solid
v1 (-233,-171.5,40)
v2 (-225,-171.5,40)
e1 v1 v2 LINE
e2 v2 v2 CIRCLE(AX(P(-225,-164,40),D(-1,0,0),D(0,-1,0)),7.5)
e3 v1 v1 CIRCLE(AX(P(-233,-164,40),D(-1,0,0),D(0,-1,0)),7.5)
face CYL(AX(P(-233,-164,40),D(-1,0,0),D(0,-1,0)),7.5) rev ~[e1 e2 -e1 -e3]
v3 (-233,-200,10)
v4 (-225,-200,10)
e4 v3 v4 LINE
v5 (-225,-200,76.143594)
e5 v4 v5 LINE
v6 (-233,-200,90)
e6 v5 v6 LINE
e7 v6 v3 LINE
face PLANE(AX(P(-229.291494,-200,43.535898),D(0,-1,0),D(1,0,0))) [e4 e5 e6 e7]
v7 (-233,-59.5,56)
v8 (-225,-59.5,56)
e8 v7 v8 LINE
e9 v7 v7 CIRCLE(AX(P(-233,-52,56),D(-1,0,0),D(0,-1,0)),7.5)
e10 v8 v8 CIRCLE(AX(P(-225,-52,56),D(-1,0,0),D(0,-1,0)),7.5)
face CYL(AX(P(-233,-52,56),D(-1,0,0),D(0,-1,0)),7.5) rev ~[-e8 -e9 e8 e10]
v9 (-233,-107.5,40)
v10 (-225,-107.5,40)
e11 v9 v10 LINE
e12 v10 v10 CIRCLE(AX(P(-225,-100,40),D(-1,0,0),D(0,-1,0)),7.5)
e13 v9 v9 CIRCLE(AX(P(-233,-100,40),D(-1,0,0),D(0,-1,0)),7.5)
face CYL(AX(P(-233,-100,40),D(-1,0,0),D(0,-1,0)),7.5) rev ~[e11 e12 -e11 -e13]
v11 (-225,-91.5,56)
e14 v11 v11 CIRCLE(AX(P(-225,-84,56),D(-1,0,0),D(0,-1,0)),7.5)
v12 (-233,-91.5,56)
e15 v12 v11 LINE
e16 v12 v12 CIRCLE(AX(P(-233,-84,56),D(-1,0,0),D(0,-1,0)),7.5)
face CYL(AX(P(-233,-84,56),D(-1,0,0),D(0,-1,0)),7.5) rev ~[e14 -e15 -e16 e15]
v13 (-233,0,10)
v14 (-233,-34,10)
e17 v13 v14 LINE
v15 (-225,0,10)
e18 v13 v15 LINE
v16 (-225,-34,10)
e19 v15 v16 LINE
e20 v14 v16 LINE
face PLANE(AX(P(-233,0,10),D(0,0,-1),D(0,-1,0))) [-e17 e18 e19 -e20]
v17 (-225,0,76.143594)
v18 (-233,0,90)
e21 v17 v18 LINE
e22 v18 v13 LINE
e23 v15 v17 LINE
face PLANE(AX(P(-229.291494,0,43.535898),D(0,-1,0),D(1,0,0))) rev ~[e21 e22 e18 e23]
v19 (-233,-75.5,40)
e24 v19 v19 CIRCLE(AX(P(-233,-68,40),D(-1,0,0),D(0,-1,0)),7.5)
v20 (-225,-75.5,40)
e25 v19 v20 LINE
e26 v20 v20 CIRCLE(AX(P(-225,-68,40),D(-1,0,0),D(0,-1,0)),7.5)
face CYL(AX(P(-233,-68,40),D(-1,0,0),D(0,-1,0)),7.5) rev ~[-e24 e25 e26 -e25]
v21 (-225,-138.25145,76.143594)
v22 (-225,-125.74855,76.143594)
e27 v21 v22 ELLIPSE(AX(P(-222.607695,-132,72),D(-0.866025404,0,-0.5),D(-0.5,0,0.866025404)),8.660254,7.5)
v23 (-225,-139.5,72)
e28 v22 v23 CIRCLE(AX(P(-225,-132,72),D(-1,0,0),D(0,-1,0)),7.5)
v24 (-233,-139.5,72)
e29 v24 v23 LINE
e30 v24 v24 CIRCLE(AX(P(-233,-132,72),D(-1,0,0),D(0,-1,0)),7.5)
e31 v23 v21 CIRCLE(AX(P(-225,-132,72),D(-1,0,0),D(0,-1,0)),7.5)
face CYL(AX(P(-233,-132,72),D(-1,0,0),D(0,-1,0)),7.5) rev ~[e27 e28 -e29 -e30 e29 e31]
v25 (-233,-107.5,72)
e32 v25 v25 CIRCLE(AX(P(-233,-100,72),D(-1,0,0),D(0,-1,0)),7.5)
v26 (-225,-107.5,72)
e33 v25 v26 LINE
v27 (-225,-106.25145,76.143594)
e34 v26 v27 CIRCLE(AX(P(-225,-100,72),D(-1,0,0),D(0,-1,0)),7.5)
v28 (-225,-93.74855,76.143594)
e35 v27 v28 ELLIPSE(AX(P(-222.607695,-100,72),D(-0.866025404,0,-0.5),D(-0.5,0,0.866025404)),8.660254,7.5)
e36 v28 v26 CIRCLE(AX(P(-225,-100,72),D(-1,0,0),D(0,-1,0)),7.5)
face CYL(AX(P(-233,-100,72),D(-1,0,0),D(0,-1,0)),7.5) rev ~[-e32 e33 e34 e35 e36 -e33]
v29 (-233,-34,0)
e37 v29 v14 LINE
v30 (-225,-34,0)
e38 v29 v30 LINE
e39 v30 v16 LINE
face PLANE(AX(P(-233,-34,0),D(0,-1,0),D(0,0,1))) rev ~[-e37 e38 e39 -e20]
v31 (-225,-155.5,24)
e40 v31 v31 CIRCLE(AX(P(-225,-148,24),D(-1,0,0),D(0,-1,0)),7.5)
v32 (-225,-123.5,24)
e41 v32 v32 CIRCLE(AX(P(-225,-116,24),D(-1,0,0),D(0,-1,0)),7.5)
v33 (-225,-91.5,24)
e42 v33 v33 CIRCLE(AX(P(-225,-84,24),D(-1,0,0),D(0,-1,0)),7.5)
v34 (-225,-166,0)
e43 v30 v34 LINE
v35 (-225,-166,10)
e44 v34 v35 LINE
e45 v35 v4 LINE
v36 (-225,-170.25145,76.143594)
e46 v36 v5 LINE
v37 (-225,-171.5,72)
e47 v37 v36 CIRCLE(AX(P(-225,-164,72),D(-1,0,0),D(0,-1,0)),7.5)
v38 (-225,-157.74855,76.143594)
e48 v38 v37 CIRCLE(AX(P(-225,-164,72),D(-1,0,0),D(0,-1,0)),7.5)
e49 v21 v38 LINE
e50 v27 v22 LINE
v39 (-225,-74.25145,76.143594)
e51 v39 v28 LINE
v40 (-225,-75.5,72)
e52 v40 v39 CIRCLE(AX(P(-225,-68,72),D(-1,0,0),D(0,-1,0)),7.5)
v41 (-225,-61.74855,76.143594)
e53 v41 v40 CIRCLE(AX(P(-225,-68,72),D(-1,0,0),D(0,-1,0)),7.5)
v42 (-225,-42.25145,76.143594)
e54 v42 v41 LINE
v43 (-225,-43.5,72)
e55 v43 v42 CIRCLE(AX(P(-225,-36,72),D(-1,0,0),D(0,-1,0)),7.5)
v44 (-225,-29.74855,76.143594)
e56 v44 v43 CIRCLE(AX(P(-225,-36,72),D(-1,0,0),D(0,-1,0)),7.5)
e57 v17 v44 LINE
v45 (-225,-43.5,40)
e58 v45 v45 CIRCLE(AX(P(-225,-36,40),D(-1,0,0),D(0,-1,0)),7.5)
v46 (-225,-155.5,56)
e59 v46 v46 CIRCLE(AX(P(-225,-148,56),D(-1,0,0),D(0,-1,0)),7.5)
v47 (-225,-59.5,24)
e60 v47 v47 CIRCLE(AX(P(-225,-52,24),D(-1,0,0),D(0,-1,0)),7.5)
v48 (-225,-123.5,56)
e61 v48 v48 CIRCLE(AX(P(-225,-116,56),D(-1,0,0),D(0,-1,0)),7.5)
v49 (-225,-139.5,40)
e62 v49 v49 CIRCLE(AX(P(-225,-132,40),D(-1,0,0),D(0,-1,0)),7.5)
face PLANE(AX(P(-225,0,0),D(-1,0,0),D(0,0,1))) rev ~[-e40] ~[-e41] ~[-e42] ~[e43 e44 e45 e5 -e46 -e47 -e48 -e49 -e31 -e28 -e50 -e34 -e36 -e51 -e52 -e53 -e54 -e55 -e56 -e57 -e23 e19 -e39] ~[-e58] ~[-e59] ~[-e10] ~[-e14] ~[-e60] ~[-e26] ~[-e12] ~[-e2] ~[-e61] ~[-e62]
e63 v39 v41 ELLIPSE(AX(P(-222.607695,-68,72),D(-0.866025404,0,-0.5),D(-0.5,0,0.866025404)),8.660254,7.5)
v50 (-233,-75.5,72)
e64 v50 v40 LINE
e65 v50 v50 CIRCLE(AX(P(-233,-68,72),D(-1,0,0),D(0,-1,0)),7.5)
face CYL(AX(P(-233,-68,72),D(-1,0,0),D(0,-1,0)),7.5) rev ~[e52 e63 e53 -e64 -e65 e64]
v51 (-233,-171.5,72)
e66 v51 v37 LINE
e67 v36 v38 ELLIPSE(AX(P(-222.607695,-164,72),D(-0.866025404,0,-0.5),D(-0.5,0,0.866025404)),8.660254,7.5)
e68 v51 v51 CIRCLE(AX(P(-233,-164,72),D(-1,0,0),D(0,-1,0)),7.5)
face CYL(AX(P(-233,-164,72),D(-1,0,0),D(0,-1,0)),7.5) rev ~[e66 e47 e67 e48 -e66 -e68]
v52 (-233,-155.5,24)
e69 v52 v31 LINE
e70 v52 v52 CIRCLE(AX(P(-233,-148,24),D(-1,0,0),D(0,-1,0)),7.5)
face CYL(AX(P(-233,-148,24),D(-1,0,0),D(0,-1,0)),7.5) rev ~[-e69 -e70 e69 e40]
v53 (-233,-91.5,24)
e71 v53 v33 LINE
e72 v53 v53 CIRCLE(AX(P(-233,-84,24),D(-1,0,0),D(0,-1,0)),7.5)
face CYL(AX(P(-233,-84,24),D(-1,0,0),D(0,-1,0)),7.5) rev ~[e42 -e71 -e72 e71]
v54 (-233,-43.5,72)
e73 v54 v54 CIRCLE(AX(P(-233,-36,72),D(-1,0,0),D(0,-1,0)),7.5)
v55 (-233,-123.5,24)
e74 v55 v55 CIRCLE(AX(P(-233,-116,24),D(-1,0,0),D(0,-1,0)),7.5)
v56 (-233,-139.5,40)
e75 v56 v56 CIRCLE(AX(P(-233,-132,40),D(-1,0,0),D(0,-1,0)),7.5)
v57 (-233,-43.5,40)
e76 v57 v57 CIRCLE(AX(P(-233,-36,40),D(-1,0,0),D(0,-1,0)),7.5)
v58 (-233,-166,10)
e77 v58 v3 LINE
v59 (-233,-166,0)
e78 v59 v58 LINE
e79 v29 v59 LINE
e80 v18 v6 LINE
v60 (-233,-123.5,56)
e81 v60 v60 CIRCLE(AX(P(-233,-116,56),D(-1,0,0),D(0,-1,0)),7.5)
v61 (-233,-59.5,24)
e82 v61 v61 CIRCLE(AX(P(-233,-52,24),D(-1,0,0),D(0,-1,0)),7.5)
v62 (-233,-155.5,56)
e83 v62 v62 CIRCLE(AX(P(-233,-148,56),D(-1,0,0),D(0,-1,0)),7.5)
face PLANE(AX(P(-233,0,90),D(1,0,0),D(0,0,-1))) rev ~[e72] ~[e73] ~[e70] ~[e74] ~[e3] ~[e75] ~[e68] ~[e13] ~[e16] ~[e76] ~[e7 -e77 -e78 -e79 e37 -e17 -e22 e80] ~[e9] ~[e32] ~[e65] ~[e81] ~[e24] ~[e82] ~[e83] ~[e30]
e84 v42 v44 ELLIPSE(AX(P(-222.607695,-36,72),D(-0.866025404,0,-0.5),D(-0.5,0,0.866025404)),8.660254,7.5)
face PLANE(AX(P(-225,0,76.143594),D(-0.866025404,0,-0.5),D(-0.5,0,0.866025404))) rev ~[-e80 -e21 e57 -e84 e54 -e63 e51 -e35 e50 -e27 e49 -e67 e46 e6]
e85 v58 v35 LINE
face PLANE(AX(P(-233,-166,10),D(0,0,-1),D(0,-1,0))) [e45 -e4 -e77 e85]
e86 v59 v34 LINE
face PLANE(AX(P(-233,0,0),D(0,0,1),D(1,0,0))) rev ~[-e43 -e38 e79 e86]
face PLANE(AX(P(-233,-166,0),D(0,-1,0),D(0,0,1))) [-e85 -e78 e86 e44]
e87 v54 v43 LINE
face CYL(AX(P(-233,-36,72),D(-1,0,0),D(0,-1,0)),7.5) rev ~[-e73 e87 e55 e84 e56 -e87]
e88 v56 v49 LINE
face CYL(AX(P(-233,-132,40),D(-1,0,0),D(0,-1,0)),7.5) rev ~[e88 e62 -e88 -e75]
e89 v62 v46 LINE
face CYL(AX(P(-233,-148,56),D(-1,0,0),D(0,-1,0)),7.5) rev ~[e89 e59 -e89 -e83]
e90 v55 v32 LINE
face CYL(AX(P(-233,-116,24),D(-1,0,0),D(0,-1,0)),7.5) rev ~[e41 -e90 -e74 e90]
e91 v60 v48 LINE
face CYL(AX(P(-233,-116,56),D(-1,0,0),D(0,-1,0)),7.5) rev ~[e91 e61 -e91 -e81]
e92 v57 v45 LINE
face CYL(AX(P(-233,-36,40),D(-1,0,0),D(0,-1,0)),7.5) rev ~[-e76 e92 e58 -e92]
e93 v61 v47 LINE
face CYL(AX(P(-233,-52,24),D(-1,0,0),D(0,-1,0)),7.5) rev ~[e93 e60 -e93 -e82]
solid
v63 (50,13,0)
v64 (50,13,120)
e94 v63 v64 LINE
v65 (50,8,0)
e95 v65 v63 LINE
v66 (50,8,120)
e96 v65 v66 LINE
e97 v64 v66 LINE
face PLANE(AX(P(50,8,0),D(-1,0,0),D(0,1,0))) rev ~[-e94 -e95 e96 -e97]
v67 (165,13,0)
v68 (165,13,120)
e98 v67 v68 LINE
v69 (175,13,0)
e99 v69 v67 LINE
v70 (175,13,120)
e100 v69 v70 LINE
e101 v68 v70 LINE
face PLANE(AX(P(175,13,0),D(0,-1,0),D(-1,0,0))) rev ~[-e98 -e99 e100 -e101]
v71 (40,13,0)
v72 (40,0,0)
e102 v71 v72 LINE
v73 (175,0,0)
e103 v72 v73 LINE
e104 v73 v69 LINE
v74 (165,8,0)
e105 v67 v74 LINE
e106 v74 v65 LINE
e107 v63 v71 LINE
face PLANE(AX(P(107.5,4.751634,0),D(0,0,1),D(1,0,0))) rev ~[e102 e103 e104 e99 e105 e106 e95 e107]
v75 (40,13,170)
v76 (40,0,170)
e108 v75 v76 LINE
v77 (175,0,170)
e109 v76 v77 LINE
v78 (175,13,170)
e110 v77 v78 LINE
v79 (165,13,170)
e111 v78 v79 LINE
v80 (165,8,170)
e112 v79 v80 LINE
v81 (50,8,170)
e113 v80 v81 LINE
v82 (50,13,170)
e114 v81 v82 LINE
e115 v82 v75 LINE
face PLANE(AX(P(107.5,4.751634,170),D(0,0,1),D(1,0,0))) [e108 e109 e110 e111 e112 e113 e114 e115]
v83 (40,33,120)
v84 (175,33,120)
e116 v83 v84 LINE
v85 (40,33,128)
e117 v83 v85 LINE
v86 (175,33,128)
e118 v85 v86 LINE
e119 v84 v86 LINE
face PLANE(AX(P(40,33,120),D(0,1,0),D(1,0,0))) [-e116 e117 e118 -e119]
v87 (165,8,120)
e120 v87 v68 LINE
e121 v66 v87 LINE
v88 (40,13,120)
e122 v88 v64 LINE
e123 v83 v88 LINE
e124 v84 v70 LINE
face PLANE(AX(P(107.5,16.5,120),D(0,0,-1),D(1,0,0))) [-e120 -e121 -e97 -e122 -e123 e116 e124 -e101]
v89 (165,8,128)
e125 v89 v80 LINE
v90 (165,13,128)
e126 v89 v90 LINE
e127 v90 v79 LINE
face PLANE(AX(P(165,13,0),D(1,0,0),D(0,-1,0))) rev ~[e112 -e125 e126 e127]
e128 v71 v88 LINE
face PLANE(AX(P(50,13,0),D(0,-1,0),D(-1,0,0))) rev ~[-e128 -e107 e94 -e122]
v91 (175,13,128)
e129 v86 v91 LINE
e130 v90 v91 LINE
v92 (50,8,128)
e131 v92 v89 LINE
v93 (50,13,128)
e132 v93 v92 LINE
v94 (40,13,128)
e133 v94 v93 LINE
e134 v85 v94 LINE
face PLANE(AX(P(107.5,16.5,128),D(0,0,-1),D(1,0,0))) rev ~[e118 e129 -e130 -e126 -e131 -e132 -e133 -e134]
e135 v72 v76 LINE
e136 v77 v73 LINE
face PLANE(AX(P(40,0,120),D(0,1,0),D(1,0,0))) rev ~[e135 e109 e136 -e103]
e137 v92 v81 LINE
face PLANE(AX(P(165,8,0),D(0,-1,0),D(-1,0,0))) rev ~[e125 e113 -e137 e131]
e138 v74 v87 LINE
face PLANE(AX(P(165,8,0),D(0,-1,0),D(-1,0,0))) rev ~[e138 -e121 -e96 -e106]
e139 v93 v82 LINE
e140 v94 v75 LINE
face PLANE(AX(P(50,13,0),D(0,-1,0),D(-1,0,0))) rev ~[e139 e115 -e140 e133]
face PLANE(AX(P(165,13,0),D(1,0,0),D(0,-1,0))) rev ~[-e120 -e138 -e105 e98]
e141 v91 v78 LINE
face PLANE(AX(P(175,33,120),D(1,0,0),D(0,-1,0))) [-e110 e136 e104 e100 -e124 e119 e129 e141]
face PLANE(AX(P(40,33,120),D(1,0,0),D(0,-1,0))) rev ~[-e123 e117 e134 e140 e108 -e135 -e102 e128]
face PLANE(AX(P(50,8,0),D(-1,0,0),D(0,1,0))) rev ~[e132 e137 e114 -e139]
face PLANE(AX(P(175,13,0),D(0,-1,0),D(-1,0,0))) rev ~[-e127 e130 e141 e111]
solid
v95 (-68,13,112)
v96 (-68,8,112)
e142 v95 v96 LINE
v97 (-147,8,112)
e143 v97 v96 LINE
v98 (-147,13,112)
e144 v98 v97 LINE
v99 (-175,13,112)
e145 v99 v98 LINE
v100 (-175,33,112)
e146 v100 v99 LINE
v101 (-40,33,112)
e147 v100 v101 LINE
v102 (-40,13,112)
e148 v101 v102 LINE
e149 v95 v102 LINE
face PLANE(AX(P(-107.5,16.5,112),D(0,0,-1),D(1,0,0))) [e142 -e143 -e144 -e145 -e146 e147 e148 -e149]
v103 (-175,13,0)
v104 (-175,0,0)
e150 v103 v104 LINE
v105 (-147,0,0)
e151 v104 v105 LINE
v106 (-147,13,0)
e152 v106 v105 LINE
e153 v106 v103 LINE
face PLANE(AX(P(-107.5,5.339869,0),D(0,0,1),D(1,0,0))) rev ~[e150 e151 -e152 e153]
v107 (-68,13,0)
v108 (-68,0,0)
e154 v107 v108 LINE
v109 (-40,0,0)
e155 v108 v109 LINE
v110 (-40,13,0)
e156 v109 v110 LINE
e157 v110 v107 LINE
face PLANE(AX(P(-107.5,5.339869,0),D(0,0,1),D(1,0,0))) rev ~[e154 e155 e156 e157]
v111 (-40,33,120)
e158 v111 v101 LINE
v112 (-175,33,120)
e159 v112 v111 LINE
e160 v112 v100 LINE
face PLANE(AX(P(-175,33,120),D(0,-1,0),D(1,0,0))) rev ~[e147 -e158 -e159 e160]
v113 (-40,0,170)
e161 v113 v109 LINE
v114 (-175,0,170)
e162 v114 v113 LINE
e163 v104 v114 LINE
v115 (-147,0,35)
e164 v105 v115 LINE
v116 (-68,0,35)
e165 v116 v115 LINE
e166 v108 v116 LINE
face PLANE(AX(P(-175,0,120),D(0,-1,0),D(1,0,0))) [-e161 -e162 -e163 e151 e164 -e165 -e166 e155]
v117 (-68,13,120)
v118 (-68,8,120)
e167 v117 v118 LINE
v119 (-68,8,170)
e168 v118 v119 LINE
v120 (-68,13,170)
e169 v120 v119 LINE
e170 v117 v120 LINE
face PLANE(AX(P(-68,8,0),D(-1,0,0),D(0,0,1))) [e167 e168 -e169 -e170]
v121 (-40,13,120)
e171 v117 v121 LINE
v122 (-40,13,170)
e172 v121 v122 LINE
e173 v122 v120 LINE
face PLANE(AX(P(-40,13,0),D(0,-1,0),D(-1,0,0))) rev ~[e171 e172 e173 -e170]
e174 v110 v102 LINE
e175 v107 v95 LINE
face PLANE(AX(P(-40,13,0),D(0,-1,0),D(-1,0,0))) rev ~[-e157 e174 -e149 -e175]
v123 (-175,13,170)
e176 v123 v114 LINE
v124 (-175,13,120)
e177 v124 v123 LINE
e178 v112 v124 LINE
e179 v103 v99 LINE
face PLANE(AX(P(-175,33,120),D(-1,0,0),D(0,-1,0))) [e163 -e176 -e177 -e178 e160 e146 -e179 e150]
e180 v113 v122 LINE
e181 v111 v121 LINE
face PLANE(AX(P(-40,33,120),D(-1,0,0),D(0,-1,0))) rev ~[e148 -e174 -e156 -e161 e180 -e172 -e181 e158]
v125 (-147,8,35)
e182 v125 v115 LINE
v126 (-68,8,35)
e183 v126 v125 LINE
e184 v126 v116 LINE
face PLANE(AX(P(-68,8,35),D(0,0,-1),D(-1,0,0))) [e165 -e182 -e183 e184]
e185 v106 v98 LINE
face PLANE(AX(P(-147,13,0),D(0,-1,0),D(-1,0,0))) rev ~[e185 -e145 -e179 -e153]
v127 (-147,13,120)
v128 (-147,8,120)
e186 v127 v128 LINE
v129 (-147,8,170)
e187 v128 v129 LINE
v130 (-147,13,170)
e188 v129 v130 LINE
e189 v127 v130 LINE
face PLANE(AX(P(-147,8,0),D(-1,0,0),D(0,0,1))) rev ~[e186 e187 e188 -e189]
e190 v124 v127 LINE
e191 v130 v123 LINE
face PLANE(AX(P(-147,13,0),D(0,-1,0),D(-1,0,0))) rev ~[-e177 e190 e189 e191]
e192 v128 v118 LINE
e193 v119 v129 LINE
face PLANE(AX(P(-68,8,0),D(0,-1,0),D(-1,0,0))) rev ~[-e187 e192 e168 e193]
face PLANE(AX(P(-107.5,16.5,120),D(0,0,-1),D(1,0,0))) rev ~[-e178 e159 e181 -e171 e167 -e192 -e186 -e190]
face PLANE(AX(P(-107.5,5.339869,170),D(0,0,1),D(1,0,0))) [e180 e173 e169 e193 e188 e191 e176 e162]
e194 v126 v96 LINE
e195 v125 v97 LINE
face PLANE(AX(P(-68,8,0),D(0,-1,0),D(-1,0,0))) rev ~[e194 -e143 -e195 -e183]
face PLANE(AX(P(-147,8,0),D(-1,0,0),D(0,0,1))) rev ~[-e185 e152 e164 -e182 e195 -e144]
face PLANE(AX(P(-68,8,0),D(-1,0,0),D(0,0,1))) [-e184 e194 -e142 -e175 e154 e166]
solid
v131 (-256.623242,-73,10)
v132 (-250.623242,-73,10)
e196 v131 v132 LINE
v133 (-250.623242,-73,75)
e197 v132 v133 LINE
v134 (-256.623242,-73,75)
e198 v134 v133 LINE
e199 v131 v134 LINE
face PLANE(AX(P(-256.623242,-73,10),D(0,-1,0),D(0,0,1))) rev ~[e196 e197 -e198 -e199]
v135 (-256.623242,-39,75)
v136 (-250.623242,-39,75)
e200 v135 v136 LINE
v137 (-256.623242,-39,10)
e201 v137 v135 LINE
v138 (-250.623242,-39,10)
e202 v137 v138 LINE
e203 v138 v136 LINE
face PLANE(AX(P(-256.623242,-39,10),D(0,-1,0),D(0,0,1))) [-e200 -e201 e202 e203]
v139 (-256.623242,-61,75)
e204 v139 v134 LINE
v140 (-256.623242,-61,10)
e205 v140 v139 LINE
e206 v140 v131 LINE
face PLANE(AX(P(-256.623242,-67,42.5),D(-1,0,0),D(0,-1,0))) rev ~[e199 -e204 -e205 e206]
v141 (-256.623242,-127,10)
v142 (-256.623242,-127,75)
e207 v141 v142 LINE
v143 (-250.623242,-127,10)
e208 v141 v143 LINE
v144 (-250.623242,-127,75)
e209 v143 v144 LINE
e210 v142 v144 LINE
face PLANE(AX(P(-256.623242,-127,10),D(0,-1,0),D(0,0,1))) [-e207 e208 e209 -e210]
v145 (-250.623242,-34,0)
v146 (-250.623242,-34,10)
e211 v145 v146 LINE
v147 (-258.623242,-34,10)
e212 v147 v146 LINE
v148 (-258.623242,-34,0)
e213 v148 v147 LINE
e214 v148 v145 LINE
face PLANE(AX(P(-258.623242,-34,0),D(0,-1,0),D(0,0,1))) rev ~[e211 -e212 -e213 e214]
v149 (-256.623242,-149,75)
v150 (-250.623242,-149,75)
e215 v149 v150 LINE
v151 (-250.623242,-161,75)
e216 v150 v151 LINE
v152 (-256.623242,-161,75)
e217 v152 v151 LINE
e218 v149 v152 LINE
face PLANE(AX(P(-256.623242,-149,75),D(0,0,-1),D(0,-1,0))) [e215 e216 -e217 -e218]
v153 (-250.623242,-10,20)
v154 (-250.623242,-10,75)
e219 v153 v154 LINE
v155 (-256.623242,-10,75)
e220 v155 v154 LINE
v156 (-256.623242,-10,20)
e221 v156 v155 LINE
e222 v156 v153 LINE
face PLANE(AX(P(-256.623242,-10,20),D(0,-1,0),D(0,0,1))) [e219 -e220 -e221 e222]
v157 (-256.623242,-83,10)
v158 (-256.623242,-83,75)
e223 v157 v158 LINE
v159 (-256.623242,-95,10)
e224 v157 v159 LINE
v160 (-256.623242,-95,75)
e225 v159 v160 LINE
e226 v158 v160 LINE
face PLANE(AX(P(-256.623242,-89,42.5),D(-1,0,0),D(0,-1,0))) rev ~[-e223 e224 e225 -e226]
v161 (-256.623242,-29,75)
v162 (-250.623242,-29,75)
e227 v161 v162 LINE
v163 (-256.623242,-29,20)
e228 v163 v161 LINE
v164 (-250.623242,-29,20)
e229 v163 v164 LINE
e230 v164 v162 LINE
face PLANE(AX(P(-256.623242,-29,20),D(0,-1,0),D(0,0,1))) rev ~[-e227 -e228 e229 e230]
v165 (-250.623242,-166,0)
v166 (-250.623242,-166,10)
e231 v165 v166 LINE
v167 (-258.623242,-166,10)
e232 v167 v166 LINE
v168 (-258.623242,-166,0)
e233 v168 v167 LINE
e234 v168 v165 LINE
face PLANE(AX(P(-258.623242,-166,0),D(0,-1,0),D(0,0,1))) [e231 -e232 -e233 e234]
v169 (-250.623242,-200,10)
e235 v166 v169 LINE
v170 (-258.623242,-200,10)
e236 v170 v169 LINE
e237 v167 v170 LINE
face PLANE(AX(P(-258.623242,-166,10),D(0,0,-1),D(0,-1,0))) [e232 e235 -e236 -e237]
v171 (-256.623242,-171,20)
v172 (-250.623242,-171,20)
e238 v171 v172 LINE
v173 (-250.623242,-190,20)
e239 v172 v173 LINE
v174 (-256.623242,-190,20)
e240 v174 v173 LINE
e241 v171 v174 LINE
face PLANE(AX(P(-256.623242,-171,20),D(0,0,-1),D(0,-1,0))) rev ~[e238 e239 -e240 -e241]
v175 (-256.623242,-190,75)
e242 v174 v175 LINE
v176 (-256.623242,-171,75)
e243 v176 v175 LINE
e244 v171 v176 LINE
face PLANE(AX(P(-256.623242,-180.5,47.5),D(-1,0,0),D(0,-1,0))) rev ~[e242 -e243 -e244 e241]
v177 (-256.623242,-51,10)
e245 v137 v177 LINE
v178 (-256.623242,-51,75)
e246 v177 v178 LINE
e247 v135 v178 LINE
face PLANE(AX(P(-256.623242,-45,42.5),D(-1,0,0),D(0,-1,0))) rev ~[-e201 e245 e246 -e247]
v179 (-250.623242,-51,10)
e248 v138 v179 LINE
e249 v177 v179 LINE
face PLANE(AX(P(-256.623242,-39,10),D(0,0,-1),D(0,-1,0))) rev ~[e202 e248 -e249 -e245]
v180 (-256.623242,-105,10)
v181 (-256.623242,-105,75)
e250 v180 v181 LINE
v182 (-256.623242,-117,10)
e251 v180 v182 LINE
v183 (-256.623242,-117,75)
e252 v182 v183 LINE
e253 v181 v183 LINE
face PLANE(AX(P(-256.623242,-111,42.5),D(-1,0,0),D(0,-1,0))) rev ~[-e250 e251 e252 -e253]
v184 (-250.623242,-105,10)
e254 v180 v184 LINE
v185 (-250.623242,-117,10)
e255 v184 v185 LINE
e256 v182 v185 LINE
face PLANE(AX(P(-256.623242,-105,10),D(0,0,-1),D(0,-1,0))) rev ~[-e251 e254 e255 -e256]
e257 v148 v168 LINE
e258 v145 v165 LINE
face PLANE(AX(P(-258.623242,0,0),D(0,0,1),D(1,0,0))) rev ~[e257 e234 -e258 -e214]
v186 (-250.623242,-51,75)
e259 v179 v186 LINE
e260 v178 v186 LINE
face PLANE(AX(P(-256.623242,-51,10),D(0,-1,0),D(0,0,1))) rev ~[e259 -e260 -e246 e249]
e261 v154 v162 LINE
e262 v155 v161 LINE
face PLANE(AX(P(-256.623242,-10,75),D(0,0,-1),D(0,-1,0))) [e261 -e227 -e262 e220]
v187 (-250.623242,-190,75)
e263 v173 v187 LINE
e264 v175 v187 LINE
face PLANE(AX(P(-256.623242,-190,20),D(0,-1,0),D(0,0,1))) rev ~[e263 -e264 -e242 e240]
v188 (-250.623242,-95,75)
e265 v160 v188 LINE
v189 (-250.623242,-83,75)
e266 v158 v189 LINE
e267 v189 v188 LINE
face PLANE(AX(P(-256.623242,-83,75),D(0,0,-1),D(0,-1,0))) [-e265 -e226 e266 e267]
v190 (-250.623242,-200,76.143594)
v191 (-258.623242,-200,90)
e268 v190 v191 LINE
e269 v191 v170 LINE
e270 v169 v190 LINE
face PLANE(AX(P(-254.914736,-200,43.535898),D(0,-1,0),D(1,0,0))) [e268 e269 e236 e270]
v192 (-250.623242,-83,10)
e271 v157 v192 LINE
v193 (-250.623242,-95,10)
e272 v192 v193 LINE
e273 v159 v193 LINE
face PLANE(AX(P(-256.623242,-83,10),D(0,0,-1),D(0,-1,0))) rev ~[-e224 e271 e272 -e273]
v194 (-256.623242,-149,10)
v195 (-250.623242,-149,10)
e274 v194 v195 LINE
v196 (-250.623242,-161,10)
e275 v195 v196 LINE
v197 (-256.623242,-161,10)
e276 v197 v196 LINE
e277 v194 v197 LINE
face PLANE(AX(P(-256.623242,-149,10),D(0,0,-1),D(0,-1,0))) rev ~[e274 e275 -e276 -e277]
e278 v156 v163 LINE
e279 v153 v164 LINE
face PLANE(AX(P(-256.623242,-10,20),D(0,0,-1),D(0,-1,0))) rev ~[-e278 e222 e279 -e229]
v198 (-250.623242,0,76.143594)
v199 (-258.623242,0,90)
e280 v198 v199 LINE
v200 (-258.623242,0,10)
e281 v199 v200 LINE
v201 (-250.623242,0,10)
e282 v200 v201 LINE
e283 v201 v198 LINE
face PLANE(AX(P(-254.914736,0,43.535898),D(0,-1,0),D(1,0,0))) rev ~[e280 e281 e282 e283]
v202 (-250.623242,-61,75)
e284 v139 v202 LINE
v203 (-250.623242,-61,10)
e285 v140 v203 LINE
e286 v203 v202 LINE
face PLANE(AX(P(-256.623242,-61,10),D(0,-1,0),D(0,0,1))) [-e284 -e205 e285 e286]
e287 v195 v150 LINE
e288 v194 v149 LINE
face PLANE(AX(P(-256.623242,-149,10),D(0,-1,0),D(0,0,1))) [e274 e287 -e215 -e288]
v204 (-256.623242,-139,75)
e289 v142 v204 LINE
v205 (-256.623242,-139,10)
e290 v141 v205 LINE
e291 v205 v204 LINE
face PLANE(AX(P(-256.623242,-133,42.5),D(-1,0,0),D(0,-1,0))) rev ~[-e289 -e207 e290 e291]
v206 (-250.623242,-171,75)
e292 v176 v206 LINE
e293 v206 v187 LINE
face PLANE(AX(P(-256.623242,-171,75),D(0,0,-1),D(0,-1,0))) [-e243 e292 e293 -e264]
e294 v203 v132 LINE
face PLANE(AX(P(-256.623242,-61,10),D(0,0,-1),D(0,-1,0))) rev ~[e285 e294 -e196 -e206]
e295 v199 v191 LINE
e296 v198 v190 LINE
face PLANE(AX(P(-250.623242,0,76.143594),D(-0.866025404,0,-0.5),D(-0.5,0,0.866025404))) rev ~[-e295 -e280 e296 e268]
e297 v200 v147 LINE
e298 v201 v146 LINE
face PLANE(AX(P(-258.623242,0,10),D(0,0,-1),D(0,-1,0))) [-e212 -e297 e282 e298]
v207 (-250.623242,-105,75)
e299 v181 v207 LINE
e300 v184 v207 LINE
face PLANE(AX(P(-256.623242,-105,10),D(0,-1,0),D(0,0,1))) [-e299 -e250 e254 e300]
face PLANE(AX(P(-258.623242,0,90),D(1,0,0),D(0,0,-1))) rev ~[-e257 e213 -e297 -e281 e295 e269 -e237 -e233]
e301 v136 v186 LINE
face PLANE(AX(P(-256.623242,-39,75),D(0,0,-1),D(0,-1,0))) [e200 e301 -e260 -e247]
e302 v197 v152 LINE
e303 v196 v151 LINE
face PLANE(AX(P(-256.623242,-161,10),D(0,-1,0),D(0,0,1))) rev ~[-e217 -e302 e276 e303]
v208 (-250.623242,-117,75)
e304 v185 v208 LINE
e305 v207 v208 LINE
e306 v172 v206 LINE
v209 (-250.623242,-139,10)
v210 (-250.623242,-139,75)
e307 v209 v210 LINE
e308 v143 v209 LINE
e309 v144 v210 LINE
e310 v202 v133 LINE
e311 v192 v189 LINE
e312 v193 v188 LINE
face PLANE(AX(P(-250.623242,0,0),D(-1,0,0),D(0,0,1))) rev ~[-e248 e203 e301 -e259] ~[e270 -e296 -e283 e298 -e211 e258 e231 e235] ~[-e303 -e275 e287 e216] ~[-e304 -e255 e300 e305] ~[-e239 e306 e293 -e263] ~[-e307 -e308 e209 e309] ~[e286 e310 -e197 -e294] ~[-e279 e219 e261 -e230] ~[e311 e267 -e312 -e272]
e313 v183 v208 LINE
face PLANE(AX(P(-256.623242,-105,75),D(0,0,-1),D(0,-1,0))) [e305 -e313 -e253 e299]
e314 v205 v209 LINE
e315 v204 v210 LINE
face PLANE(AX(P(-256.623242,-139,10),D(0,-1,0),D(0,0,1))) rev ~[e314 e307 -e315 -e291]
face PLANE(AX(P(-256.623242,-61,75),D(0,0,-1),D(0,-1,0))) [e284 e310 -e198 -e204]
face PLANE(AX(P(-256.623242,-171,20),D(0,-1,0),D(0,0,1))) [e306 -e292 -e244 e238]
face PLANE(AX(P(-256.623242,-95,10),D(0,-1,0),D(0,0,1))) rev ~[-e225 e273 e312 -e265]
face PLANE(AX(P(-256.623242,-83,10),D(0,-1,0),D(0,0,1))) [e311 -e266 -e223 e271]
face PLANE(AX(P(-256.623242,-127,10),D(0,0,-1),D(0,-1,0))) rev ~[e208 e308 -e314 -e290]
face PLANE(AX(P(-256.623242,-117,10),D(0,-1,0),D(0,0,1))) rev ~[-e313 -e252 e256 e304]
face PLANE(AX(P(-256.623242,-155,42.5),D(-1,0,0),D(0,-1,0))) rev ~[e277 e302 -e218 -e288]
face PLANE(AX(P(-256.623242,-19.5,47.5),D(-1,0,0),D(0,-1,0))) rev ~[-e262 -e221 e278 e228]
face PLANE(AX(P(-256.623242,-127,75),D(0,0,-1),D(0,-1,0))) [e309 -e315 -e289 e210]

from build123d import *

# Parameters (mm, degrees)
F1_DEPTH  = 170
F3_W      = 135
F3_H      = 33
F4_DEPTH  = 8
F6_DEPTH  = 170
F7_W      = 79
F7_H      = 35
F8_DEPTH  = 8
F9_W      = 135
F9_H      = 33
F10_DEPTH = 8
F12_DEPTH = 200
F13_W     = 34
F13_H     = 10
F13_R     = 7.5
F14_DEPTH = 8
F16_DEPTH = 200
F17_W     = 34
F17_H     = 10
F18_DEPTH = 8
F20_W     = 19
F20_H     = 55
F20_W_2   = 12
F20_H_2   = 65
F21_DEPTH = 6


with BuildPart() as f1:
    # F0 (on Top) → F1 (new body)
    with BuildSketch(Plane.XY):
        Polygon((50, 13), (40, 13), (40, 0), (175, 0), (175, 13), (165, 13), (165, 8), (50, 8), align=None)
    extrude(amount=F1_DEPTH)

    # F3 (on offset) → F4 (join)
    with BuildSketch(Plane(origin=(0, 0, 120), x_dir=(1, 0, 0), z_dir=(0, 0, -1))):
        with Locations((107.5, -16.5)):
            Rectangle(F3_W, F3_H)
    extrude(amount=-F4_DEPTH)


with BuildPart() as f6:
    # F5 (on Top) → F6 (new body)
    with BuildSketch(Plane.XY):
        Polygon((-175, 0), (-40, 0), (-40, 13), (-68, 13), (-68, 8), (-147, 8), (-147, 13), (-175, 13), align=None)
    extrude(amount=F6_DEPTH)

    # F7 (on face) → F8 (cut, through all)
    with BuildSketch(Plane(origin=(0, 8, 0), x_dir=(-1, 0, 0), z_dir=(0, 1, 0))):
        with Locations((107.5, 17.5)):
            Rectangle(F7_W, F7_H)
    extrude(amount=-F8_DEPTH, mode=Mode.SUBTRACT)

    # F9 (on offset) → F10 (join)
    with BuildSketch(Plane(origin=(0, 0, 120), x_dir=(1, 0, 0), z_dir=(0, 0, -1))):
        with Locations((-107.5, -16.5)):
            Rectangle(F9_W, F9_H)
    extrude(amount=F10_DEPTH)


with BuildPart() as f12:
    # F11 (on Front) → F12 (new body)
    with BuildSketch(Plane.XZ):
        Polygon((-233, 0), (-225, 0), (-225, 76.1435935394), (-233, 90), align=None)
    extrude(amount=F12_DEPTH)

    # F13 (on face) → F14 (cut, through all)
    with BuildSketch(Plane(origin=(-233, 0, 0), x_dir=(0, -1, 0), z_dir=(-1, 0, 0))):
        with Locations((17, 5)):
            Rectangle(F13_W, F13_H)
        with Locations((183, 5)):
            Rectangle(F13_W, F13_H)
        with Locations((36, 72)):
            Circle(F13_R)
        with Locations((52, 56)):
            Circle(F13_R)
        with Locations((36, 40)):
            Circle(F13_R)
        with Locations((52, 24)):
            Circle(F13_R)
        with Locations((68, 72)):
            Circle(F13_R)
        with Locations((84, 56)):
            Circle(F13_R)
        with Locations((68, 40)):
            Circle(F13_R)
        with Locations((84, 24)):
            Circle(F13_R)
        with Locations((100, 72)):
            Circle(F13_R)
        with Locations((116, 56)):
            Circle(F13_R)
        with Locations((100, 40)):
            Circle(F13_R)
        with Locations((116, 24)):
            Circle(F13_R)
        with Locations((132, 72)):
            Circle(F13_R)
        with Locations((148, 56)):
            Circle(F13_R)
        with Locations((132, 40)):
            Circle(F13_R)
        with Locations((148, 24)):
            Circle(F13_R)
        with Locations((164, 72)):
            Circle(F13_R)
        with Locations((164, 40)):
            Circle(F13_R)
    extrude(amount=-F14_DEPTH, mode=Mode.SUBTRACT)


with BuildPart() as f16:
    # F15 (on Front) → F16 (new body)
    with BuildSketch(Plane.XZ):
        Polygon((-258.6232423782, 0), (-250.6232423782, 0), (-250.6232423782, 76.1435935394), (-258.6232423782, 90), align=None)
    extrude(amount=F16_DEPTH)

    # F17 (on face) → F18 (cut, through all)
    with BuildSketch(Plane(origin=(-258.6232423782, 0, 0), x_dir=(0, -1, 0), z_dir=(-1, 0, 0))):
        with Locations((17, 5)):
            Rectangle(F17_W, F17_H)
        with Locations((183, 5)):
            Rectangle(F17_W, F17_H)
    extrude(amount=-F18_DEPTH, mode=Mode.SUBTRACT)

    # F20 (on offset) → F21 (cut, through all)
    with BuildSketch(Plane(origin=(-256.6232423782, 0, 0), x_dir=(0, -1, 0), z_dir=(-1, 0, 0))):
        with Locations((19.5, 47.5)):
            Rectangle(F20_W, F20_H)
        with Locations((45, 42.5)):
            Rectangle(F20_W_2, F20_H_2)
        with Locations((67, 42.5)):
            Rectangle(F20_W_2, F20_H_2)
        with Locations((89, 42.5)):
            Rectangle(F20_W_2, F20_H_2)
        with Locations((111, 42.5)):
            Rectangle(F20_W_2, F20_H_2)
        with Locations((133, 42.5)):
            Rectangle(F20_W_2, F20_H_2)
        with Locations((155, 42.5)):
            Rectangle(F20_W_2, F20_H_2)
        with Locations((180.5, 47.5)):
            Rectangle(F20_W, F20_H)
    extrude(amount=-F21_DEPTH, mode=Mode.SUBTRACT)


solid = Compound([f1.part, f6.part, f12.part, f16.part])
